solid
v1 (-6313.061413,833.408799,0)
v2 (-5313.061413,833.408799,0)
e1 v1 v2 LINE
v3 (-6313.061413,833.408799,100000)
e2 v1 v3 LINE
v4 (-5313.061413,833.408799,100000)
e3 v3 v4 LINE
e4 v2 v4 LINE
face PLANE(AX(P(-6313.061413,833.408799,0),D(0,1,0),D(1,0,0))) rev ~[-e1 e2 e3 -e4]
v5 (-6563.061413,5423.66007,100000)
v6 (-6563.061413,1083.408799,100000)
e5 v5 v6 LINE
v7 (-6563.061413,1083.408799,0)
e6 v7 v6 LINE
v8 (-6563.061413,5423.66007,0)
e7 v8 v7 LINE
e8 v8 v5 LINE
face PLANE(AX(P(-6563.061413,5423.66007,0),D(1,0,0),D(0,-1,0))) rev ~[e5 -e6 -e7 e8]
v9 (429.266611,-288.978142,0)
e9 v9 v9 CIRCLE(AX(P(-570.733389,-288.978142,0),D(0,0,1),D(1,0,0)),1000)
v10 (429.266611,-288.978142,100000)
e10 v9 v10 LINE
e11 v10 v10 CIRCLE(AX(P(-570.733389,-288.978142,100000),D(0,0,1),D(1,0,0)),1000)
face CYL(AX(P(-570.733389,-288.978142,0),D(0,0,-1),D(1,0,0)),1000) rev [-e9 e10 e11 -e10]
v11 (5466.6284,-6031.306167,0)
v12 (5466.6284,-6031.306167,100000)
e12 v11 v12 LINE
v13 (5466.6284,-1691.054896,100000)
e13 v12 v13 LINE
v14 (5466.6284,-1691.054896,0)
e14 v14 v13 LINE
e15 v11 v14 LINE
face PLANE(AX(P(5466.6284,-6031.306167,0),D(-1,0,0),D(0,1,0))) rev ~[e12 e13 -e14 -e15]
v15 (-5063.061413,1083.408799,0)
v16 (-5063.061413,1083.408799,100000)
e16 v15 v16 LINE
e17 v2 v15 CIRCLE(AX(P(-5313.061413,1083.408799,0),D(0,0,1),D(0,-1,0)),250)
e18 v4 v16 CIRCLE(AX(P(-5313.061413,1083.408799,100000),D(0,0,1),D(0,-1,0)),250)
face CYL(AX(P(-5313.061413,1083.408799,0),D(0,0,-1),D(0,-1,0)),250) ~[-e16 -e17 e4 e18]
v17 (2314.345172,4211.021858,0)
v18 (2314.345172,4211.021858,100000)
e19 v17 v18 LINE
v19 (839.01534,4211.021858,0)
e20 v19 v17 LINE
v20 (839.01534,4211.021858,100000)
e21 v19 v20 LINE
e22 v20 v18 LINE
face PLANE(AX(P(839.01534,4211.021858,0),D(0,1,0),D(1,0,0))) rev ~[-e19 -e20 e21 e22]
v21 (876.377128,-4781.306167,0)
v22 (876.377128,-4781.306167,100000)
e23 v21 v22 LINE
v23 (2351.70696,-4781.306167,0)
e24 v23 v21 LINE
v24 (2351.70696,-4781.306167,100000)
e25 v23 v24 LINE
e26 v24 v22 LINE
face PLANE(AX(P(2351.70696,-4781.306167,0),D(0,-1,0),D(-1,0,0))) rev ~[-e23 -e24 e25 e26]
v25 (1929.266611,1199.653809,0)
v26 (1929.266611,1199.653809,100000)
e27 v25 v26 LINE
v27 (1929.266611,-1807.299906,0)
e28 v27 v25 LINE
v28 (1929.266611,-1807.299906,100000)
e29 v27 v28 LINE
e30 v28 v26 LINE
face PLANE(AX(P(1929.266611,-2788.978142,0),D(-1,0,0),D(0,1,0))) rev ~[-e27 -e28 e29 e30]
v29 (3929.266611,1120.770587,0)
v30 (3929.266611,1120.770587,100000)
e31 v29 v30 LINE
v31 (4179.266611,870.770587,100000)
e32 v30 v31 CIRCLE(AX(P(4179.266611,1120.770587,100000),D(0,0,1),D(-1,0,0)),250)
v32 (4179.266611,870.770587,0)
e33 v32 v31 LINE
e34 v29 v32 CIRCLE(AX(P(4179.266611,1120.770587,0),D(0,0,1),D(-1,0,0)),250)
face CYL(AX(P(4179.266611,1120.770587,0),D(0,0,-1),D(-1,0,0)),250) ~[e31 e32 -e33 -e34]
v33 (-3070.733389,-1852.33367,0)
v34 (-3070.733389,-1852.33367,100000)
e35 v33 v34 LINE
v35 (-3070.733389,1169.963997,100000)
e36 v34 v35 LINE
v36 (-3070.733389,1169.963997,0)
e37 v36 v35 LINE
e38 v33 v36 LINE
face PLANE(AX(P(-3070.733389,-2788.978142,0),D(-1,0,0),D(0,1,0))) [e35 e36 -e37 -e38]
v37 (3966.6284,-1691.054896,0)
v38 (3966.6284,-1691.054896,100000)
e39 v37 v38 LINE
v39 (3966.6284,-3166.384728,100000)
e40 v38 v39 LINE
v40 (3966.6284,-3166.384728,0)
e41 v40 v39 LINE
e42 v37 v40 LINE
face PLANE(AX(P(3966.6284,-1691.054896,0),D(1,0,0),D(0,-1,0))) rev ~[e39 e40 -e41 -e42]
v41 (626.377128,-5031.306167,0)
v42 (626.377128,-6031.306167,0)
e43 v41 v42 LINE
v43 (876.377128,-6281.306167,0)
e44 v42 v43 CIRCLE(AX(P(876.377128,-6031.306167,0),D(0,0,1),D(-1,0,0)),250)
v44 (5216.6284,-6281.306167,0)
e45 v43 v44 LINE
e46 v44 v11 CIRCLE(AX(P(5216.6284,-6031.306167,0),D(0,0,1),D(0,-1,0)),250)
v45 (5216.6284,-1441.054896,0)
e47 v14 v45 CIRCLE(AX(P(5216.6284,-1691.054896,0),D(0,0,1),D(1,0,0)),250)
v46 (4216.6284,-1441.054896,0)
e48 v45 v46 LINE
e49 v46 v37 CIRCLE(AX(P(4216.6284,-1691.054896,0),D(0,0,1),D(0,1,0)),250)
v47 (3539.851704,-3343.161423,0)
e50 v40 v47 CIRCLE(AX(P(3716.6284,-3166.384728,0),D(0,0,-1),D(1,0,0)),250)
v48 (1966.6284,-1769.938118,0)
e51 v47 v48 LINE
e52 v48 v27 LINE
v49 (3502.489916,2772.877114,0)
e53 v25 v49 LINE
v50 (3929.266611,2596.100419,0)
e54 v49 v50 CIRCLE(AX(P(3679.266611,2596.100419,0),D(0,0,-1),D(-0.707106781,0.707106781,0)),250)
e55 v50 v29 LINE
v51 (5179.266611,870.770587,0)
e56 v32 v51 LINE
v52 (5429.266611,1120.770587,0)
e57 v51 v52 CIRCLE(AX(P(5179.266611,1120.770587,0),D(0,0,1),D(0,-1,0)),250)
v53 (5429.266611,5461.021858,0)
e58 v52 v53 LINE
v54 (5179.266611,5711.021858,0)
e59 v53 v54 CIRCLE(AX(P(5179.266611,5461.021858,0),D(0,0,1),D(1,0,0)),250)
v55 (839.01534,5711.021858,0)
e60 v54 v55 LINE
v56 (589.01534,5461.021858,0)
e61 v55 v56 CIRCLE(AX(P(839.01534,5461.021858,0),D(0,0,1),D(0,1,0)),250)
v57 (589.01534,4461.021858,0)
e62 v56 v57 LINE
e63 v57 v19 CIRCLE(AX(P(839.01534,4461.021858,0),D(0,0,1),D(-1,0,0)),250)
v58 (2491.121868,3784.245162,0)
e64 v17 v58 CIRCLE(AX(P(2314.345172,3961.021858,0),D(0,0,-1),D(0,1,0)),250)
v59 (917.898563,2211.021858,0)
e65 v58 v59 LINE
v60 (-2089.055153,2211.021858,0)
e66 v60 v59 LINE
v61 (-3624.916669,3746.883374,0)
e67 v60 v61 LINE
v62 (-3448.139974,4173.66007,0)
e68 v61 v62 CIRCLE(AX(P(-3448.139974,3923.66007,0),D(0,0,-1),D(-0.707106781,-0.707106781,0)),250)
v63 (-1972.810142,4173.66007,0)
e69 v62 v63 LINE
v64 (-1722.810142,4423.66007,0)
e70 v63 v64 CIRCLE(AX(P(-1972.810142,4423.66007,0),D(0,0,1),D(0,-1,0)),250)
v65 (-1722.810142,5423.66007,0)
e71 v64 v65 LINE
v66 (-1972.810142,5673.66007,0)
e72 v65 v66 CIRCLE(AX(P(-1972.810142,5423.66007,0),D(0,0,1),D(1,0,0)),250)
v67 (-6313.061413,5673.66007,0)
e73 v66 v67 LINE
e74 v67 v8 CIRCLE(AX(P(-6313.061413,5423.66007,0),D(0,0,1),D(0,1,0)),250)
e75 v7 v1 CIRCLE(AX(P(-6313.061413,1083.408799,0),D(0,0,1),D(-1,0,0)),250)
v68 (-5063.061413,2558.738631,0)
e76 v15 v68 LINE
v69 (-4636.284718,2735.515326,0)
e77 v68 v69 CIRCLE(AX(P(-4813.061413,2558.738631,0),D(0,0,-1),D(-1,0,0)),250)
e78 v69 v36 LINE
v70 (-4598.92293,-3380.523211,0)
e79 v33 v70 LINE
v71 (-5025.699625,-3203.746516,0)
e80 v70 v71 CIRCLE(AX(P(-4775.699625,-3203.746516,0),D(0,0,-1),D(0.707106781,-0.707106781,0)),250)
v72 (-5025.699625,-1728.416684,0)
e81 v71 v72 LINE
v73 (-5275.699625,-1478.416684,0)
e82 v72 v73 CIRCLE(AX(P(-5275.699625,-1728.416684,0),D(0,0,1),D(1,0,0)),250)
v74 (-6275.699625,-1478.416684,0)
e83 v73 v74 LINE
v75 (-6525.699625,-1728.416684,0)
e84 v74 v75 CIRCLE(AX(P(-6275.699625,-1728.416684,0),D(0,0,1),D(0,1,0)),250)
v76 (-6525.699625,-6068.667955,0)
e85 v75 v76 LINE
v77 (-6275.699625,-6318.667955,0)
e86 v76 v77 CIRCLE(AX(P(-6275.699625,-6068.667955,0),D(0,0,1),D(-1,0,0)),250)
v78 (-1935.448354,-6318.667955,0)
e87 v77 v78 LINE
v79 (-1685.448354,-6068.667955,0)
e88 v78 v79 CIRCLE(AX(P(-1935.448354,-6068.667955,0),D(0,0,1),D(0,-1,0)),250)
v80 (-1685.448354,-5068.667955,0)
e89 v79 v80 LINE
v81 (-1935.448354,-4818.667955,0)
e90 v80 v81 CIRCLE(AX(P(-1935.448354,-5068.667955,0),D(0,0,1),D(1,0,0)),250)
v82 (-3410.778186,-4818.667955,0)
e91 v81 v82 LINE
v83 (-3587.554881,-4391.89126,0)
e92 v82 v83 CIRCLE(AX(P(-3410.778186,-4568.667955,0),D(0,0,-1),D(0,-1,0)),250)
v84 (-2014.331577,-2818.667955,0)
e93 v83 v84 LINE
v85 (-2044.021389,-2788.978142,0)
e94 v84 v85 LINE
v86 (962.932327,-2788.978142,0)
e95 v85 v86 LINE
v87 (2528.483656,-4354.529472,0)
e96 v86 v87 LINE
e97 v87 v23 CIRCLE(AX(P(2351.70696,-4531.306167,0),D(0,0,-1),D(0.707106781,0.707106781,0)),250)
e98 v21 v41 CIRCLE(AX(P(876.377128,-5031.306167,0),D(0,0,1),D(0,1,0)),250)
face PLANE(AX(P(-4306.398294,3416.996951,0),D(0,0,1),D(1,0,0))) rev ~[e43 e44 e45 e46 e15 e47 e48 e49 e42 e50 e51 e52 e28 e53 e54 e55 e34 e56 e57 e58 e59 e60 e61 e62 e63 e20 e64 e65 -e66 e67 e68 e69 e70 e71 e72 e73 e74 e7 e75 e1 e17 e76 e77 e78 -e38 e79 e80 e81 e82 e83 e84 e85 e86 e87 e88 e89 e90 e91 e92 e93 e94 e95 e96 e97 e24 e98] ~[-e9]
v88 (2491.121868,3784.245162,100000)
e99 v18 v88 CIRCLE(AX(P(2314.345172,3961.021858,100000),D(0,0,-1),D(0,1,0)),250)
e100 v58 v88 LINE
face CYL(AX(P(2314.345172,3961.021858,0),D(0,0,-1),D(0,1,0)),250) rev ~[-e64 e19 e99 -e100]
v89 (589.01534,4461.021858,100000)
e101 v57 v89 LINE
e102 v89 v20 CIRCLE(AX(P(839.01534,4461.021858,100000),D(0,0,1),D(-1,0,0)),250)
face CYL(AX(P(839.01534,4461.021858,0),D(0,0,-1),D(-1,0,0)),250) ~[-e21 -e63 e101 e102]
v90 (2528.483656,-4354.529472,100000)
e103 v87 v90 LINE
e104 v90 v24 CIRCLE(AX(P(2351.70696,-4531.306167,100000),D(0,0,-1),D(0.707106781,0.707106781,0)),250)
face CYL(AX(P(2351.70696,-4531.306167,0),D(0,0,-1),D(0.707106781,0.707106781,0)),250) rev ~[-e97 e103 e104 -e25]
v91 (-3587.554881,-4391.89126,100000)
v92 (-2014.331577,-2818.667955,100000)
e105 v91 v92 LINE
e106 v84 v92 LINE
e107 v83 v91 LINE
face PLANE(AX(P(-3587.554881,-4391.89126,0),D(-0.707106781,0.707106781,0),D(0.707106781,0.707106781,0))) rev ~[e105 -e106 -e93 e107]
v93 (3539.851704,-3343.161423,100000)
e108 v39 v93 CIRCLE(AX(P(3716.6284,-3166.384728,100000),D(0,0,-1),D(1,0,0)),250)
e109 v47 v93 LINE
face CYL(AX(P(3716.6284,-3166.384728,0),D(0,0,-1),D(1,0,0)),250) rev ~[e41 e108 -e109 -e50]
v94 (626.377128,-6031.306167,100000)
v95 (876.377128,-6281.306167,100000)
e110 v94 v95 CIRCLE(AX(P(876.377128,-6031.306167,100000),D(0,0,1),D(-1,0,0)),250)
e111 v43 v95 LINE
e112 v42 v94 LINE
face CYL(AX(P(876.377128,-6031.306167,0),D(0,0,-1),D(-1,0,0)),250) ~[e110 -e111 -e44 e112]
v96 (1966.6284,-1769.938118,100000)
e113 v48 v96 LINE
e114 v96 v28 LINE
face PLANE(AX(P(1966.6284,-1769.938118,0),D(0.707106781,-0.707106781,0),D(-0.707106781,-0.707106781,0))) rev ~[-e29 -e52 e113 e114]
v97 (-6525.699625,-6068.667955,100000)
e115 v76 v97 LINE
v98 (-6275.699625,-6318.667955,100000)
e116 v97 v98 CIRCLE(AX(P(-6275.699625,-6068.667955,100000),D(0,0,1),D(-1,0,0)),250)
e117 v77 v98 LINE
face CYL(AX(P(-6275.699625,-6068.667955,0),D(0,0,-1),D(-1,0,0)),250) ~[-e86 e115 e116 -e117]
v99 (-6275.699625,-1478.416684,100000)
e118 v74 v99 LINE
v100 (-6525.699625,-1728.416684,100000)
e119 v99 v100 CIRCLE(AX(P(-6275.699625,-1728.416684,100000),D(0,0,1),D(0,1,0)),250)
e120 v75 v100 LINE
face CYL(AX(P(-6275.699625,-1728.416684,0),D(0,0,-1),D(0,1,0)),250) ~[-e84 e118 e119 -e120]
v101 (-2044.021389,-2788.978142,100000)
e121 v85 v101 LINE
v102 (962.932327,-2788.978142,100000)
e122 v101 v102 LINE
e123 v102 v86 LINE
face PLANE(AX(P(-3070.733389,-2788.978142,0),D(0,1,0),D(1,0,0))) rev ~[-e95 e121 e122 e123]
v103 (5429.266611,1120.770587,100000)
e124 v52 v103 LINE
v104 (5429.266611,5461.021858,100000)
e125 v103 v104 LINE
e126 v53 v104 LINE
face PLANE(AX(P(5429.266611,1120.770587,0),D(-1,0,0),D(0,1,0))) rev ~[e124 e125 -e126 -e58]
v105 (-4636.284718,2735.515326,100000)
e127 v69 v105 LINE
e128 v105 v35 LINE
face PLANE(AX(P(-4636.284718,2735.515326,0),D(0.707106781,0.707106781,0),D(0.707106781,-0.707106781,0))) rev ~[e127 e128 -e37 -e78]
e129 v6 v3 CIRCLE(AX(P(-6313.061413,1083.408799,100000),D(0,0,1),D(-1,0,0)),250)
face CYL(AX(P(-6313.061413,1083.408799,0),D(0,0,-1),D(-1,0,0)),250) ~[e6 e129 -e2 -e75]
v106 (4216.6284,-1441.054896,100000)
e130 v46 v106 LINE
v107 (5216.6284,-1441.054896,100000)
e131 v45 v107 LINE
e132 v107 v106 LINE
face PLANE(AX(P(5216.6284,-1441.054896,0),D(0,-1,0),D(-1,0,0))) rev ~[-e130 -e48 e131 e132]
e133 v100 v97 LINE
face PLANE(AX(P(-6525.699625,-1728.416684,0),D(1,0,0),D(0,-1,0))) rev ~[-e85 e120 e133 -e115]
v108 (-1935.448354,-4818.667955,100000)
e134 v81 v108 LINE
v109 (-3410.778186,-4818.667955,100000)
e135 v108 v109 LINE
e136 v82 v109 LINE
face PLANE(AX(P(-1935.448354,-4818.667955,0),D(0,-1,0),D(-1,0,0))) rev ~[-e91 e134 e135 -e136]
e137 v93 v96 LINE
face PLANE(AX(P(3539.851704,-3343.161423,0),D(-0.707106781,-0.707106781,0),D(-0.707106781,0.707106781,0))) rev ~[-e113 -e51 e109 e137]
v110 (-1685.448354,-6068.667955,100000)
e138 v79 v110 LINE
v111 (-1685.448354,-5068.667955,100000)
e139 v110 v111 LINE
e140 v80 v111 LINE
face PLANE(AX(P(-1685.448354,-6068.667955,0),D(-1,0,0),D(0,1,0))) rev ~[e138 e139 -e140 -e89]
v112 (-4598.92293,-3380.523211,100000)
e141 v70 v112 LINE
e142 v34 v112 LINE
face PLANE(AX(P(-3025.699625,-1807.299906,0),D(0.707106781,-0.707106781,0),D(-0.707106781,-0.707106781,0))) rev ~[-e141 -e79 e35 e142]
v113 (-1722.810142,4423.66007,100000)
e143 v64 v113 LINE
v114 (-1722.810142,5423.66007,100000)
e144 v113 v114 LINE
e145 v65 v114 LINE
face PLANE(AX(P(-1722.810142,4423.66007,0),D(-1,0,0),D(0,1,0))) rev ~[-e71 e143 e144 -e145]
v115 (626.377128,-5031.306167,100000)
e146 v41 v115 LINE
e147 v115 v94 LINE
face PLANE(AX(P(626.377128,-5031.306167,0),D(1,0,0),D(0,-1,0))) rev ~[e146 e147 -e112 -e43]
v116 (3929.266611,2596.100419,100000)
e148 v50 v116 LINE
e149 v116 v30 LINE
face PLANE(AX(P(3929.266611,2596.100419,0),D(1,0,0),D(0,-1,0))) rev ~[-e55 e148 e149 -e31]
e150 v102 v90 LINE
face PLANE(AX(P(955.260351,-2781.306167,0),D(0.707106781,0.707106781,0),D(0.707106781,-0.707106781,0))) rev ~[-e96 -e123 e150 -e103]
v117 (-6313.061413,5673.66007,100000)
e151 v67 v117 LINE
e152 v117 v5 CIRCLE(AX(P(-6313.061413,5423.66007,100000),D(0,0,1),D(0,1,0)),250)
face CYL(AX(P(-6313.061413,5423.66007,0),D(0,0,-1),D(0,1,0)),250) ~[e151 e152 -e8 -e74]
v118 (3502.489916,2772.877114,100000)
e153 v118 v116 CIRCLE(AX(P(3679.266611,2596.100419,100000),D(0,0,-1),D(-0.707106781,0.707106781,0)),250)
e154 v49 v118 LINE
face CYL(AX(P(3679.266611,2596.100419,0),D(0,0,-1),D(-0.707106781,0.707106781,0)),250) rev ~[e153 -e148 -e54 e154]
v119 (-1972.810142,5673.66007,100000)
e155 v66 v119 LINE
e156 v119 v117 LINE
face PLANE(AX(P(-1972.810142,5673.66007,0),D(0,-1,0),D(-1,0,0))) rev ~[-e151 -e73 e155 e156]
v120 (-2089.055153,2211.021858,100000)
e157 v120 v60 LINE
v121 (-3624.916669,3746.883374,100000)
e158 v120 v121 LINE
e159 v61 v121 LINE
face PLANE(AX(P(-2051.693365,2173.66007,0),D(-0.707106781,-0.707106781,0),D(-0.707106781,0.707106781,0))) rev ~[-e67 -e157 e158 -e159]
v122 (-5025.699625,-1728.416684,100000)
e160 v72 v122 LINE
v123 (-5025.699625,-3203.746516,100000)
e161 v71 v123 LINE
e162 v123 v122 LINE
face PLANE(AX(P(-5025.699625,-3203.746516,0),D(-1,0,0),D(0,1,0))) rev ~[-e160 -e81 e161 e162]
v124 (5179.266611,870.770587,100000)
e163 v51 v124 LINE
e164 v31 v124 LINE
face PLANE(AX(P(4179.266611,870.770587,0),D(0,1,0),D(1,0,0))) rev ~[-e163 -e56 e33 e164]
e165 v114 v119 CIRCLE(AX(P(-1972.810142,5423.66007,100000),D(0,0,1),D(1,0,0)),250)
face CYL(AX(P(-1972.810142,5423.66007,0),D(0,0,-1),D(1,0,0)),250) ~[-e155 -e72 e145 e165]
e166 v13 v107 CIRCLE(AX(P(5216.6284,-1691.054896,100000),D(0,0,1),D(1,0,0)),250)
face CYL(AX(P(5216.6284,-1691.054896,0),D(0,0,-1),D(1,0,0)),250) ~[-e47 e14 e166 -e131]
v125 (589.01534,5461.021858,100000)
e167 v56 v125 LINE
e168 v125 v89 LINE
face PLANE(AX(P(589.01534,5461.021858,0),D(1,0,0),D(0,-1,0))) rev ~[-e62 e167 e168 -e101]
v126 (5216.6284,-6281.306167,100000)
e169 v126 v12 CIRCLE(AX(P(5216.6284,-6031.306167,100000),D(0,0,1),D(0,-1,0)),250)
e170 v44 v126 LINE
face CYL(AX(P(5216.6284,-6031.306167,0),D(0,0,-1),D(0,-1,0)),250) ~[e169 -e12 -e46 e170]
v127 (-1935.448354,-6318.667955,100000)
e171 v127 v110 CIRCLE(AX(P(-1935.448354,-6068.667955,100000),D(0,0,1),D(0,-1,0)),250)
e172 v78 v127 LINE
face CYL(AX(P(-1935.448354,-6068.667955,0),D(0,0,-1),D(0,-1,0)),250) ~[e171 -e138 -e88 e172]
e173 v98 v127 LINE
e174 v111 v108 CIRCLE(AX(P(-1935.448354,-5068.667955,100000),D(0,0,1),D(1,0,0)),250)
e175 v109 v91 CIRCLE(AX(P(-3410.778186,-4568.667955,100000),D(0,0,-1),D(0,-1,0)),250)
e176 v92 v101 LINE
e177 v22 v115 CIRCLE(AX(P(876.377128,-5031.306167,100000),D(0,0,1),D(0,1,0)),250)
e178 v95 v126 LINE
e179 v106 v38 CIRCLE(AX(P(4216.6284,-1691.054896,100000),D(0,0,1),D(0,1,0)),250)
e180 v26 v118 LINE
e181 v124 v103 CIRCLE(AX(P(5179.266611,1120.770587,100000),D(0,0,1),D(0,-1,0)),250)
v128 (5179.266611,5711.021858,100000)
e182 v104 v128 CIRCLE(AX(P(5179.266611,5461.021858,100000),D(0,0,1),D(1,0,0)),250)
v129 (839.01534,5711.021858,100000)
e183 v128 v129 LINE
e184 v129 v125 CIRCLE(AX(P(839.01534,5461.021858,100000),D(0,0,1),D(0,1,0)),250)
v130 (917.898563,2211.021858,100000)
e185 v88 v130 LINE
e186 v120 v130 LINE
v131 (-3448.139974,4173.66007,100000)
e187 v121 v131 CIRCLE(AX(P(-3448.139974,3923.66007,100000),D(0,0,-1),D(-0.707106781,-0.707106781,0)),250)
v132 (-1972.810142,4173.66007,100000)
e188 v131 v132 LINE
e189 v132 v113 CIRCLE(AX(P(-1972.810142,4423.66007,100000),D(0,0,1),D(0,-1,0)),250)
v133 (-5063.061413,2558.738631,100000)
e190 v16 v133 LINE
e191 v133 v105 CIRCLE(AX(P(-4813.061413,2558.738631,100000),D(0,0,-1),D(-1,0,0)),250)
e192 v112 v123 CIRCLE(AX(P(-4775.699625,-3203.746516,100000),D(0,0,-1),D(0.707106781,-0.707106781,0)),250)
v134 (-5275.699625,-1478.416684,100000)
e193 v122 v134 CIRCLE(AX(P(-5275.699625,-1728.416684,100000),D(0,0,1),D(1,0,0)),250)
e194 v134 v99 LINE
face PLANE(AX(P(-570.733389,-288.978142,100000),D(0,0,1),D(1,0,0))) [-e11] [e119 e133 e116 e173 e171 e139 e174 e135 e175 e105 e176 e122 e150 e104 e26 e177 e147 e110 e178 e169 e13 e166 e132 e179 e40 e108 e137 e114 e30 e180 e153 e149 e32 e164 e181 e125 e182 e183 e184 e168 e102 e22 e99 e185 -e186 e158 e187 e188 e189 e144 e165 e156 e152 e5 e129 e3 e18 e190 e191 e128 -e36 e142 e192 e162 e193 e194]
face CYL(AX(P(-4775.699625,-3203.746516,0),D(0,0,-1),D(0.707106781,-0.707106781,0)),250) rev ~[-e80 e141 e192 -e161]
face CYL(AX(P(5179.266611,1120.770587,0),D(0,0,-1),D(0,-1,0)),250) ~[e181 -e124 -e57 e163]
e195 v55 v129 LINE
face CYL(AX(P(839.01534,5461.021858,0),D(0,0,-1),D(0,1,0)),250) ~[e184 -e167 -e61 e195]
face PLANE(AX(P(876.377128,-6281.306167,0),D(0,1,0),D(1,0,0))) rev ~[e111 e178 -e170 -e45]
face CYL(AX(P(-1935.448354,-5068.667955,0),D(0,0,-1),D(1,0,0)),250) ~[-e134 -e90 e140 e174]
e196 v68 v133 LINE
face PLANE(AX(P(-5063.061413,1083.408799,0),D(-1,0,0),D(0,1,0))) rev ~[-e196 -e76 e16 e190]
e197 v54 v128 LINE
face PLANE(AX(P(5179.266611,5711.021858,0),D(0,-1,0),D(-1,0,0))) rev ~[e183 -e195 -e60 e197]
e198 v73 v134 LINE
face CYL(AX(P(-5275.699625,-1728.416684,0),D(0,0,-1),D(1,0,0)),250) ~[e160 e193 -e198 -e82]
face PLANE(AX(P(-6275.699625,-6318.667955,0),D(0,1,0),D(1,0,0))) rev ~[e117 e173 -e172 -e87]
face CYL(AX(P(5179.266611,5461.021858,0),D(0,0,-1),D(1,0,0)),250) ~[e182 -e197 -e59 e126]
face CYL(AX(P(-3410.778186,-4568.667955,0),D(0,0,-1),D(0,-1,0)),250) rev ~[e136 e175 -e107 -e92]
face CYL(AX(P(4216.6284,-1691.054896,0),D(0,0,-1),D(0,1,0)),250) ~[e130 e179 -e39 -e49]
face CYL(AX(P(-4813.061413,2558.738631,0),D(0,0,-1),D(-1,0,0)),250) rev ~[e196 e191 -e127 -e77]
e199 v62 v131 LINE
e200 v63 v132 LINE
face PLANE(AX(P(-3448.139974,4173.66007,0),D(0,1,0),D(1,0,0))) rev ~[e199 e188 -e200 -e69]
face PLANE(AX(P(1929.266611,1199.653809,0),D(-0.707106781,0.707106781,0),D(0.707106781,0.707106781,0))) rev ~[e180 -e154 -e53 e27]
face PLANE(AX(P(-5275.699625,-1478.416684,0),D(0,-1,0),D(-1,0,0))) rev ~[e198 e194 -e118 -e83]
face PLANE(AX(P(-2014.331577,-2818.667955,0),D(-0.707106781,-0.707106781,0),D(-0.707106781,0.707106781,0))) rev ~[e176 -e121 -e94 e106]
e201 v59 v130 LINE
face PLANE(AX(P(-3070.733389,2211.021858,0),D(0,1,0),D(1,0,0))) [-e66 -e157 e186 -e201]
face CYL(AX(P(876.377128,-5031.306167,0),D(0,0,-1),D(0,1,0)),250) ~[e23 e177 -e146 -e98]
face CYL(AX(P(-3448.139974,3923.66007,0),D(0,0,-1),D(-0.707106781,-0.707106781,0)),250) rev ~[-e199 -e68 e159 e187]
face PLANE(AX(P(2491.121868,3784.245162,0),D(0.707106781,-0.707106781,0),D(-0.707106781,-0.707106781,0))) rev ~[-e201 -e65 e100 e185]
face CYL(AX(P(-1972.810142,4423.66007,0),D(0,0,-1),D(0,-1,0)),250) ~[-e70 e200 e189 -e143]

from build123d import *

# Parameters (mm, degrees)
SKETCH1_W           = 5000
SKETCH1_H           = 5000
SKETCH1_R           = 1000
BOSS_EXTRUDE1_DEPTH = 100000


with BuildPart() as part:
    # Sketch1 → Boss-Extrude1 (new body)
    # profile 1 of 5: a face of its own
    with BuildSketch(Plane.XY):
        with Locations((-570.733388509, -288.978142377)):
            Rectangle(SKETCH1_W, SKETCH1_H)
        with Locations((-570.733388509, -288.978142377)):
            Circle(SKETCH1_R, mode=Mode.SUBTRACT)
    # profile 2 of 5: a face of its own
    with BuildSketch(Plane.XY):
        with BuildLine():
            Line((5429.266611491, 1120.770586579), (5429.266611491, 5461.021857623))
            ThreePointArc((5429.266611491, 5461.021857623), (5356.043306787, 5637.79855292), (5179.266611491, 5711.021857623))
            Line((5179.266611491, 5711.021857623), (839.015340447, 5711.021857623))
            ThreePointArc((839.015340447, 5711.021857623), (662.23864515, 5637.79855292), (589.015340447, 5461.021857623))
            Line((589.015340447, 5461.021857623), (589.015340447, 4461.021857623))
            ThreePointArc((589.015340447, 4461.021857623), (662.23864515, 4284.245162327), (839.015340447, 4211.021857623))
            Line((839.015340447, 4211.021857623), (2314.345172446, 4211.021857623))
            ThreePointArc((2314.345172446, 4211.021857623), (2545.315055574, 4056.692715715), (2491.121867743, 3784.245162327))
            Line((2491.121867743, 3784.245162327), (917.89856304, 2211.021857623))
            Line((917.89856304, 2211.021857623), (1929.266611491, 1199.653809172))
            Line((1929.266611491, 1199.653809172), (3502.489916194, 2772.877113876))
            ThreePointArc((3502.489916194, 2772.877113876), (3774.937469582, 2827.070301707), (3929.266611491, 2596.100418579))
            Line((3929.266611491, 2596.100418579), (3929.266611491, 1120.770586579))
            ThreePointArc((3929.266611491, 1120.770586579), (4002.489916194, 943.993891283), (4179.266611491, 870.770586579))
            Line((4179.266611491, 870.770586579), (5179.266611491, 870.770586579))
            ThreePointArc((5179.266611491, 870.770586579), (5356.043306787, 943.993891283), (5429.266611491, 1120.770586579))
        make_face()
    # profile 3 of 5: a face of its own
    with BuildSketch(Plane.XY):
        with BuildLine():
            Line((1966.628399523, -1769.938118418), (955.260351072, -2781.306166869))
            Line((955.260351072, -2781.306166869), (2528.483655775, -4354.529471572))
            ThreePointArc((2528.483655775, -4354.529471572), (2582.676843606, -4626.97702496), (2351.706960478, -4781.306166869))
            Line((2351.706960478, -4781.306166869), (876.377128479, -4781.306166869))
            ThreePointArc((876.377128479, -4781.306166869), (699.600433182, -4854.529471572), (626.377128479, -5031.306166869))
            Line((626.377128479, -5031.306166869), (626.377128479, -6031.306166869))
            ThreePointArc((626.377128479, -6031.306166869), (699.600433182, -6208.082862166), (876.377128479, -6281.306166869))
            Line((876.377128479, -6281.306166869), (5216.628399523, -6281.306166869))
            ThreePointArc((5216.628399523, -6281.306166869), (5393.405094819, -6208.082862166), (5466.628399523, -6031.306166869))
            Line((5466.628399523, -6031.306166869), (5466.628399523, -1691.054895825))
            ThreePointArc((5466.628399523, -1691.054895825), (5393.405094819, -1514.278200528), (5216.628399523, -1441.054895825))
            Line((5216.628399523, -1441.054895825), (4216.628399523, -1441.054895825))
            ThreePointArc((4216.628399523, -1441.054895825), (4039.851704226, -1514.278200528), (3966.628399523, -1691.054895825))
            Line((3966.628399523, -1691.054895825), (3966.628399523, -3166.384727824))
            ThreePointArc((3966.628399523, -3166.384727824), (3812.299257614, -3397.354610952), (3539.851704226, -3343.161423121))
            Line((3539.851704226, -3343.161423121), (1966.628399523, -1769.938118418))
        make_face()
    # profile 4 of 5: a face of its own
    with BuildSketch(Plane.XY):
        with BuildLine():
            Line((-2014.331576518, -2818.667954901), (-3025.69962497, -1807.29990645))
            Line((-3025.69962497, -1807.29990645), (-4598.922929673, -3380.523211153))
            ThreePointArc((-4598.922929673, -3380.523211153), (-4871.370483061, -3434.716398984), (-5025.699624969, -3203.746515856))
            Line((-5025.699624969, -3203.746515856), (-5025.699624969, -1728.416683857))
            ThreePointArc((-5025.699624969, -1728.416683857), (-5098.922929673, -1551.63998856), (-5275.699624969, -1478.416683857))
            Line((-5275.699624969, -1478.416683857), (-6275.699624969, -1478.416683857))
            ThreePointArc((-6275.699624969, -1478.416683857), (-6452.476320266, -1551.63998856), (-6525.699624969, -1728.416683857))
            Line((-6525.699624969, -1728.416683857), (-6525.699624969, -6068.667954901))
            ThreePointArc((-6525.699624969, -6068.667954901), (-6452.476320266, -6245.444650198), (-6275.699624969, -6318.667954901))
            Line((-6275.699624969, -6318.667954901), (-1935.448353925, -6318.667954901))
            ThreePointArc((-1935.448353925, -6318.667954901), (-1758.671658629, -6245.444650198), (-1685.448353925, -6068.667954901))
            Line((-1685.448353925, -6068.667954901), (-1685.448353925, -5068.667954901))
            ThreePointArc((-1685.448353925, -5068.667954901), (-1758.671658629, -4891.891259604), (-1935.448353925, -4818.667954901))
            Line((-1935.448353925, -4818.667954901), (-3410.778185925, -4818.667954901))
            ThreePointArc((-3410.778185925, -4818.667954901), (-3641.748069053, -4664.338812992), (-3587.554881222, -4391.891259604))
            Line((-3587.554881222, -4391.891259604), (-2014.331576518, -2818.667954901))
        make_face()
    # profile 5 of 5: a face of its own
    with BuildSketch(Plane.XY):
        with BuildLine():
            Line((-3063.061413001, 1162.29202114), (-2051.69336455, 2173.660069591))
            Line((-2051.69336455, 2173.660069591), (-3624.916669254, 3746.883374295))
            ThreePointArc((-3624.916669254, 3746.883374295), (-3679.109857085, 4019.330927683), (-3448.139973957, 4173.660069591))
            Line((-3448.139973957, 4173.660069591), (-1972.810141957, 4173.660069591))
            ThreePointArc((-1972.810141957, 4173.660069591), (-1796.033446661, 4246.883374295), (-1722.810141957, 4423.660069591))
            Line((-1722.810141957, 4423.660069591), (-1722.810141957, 5423.660069591))
            ThreePointArc((-1722.810141957, 5423.660069591), (-1796.033446661, 5600.436764888), (-1972.810141957, 5673.660069591))
            Line((-1972.810141957, 5673.660069591), (-6313.061413002, 5673.660069591))
            ThreePointArc((-6313.061413002, 5673.660069591), (-6489.838108298, 5600.436764888), (-6563.061413002, 5423.660069591))
            Line((-6563.061413002, 5423.660069591), (-6563.061413002, 1083.408798547))
            ThreePointArc((-6563.061413002, 1083.408798547), (-6489.838108298, 906.632103251), (-6313.061413002, 833.408798547))
            Line((-6313.061413002, 833.408798547), (-5313.061413002, 833.408798547))
            ThreePointArc((-5313.061413002, 833.408798547), (-5136.284717705, 906.632103251), (-5063.061413002, 1083.408798547))
            Line((-5063.061413002, 1083.408798547), (-5063.061413002, 2558.738630547))
            ThreePointArc((-5063.061413002, 2558.738630547), (-4908.732271093, 2789.708513675), (-4636.284717705, 2735.515325844))
            Line((-4636.284717705, 2735.515325844), (-3063.061413001, 1162.29202114))
        make_face()
    extrude(amount=BOSS_EXTRUDE1_DEPTH)


solid = part.part
